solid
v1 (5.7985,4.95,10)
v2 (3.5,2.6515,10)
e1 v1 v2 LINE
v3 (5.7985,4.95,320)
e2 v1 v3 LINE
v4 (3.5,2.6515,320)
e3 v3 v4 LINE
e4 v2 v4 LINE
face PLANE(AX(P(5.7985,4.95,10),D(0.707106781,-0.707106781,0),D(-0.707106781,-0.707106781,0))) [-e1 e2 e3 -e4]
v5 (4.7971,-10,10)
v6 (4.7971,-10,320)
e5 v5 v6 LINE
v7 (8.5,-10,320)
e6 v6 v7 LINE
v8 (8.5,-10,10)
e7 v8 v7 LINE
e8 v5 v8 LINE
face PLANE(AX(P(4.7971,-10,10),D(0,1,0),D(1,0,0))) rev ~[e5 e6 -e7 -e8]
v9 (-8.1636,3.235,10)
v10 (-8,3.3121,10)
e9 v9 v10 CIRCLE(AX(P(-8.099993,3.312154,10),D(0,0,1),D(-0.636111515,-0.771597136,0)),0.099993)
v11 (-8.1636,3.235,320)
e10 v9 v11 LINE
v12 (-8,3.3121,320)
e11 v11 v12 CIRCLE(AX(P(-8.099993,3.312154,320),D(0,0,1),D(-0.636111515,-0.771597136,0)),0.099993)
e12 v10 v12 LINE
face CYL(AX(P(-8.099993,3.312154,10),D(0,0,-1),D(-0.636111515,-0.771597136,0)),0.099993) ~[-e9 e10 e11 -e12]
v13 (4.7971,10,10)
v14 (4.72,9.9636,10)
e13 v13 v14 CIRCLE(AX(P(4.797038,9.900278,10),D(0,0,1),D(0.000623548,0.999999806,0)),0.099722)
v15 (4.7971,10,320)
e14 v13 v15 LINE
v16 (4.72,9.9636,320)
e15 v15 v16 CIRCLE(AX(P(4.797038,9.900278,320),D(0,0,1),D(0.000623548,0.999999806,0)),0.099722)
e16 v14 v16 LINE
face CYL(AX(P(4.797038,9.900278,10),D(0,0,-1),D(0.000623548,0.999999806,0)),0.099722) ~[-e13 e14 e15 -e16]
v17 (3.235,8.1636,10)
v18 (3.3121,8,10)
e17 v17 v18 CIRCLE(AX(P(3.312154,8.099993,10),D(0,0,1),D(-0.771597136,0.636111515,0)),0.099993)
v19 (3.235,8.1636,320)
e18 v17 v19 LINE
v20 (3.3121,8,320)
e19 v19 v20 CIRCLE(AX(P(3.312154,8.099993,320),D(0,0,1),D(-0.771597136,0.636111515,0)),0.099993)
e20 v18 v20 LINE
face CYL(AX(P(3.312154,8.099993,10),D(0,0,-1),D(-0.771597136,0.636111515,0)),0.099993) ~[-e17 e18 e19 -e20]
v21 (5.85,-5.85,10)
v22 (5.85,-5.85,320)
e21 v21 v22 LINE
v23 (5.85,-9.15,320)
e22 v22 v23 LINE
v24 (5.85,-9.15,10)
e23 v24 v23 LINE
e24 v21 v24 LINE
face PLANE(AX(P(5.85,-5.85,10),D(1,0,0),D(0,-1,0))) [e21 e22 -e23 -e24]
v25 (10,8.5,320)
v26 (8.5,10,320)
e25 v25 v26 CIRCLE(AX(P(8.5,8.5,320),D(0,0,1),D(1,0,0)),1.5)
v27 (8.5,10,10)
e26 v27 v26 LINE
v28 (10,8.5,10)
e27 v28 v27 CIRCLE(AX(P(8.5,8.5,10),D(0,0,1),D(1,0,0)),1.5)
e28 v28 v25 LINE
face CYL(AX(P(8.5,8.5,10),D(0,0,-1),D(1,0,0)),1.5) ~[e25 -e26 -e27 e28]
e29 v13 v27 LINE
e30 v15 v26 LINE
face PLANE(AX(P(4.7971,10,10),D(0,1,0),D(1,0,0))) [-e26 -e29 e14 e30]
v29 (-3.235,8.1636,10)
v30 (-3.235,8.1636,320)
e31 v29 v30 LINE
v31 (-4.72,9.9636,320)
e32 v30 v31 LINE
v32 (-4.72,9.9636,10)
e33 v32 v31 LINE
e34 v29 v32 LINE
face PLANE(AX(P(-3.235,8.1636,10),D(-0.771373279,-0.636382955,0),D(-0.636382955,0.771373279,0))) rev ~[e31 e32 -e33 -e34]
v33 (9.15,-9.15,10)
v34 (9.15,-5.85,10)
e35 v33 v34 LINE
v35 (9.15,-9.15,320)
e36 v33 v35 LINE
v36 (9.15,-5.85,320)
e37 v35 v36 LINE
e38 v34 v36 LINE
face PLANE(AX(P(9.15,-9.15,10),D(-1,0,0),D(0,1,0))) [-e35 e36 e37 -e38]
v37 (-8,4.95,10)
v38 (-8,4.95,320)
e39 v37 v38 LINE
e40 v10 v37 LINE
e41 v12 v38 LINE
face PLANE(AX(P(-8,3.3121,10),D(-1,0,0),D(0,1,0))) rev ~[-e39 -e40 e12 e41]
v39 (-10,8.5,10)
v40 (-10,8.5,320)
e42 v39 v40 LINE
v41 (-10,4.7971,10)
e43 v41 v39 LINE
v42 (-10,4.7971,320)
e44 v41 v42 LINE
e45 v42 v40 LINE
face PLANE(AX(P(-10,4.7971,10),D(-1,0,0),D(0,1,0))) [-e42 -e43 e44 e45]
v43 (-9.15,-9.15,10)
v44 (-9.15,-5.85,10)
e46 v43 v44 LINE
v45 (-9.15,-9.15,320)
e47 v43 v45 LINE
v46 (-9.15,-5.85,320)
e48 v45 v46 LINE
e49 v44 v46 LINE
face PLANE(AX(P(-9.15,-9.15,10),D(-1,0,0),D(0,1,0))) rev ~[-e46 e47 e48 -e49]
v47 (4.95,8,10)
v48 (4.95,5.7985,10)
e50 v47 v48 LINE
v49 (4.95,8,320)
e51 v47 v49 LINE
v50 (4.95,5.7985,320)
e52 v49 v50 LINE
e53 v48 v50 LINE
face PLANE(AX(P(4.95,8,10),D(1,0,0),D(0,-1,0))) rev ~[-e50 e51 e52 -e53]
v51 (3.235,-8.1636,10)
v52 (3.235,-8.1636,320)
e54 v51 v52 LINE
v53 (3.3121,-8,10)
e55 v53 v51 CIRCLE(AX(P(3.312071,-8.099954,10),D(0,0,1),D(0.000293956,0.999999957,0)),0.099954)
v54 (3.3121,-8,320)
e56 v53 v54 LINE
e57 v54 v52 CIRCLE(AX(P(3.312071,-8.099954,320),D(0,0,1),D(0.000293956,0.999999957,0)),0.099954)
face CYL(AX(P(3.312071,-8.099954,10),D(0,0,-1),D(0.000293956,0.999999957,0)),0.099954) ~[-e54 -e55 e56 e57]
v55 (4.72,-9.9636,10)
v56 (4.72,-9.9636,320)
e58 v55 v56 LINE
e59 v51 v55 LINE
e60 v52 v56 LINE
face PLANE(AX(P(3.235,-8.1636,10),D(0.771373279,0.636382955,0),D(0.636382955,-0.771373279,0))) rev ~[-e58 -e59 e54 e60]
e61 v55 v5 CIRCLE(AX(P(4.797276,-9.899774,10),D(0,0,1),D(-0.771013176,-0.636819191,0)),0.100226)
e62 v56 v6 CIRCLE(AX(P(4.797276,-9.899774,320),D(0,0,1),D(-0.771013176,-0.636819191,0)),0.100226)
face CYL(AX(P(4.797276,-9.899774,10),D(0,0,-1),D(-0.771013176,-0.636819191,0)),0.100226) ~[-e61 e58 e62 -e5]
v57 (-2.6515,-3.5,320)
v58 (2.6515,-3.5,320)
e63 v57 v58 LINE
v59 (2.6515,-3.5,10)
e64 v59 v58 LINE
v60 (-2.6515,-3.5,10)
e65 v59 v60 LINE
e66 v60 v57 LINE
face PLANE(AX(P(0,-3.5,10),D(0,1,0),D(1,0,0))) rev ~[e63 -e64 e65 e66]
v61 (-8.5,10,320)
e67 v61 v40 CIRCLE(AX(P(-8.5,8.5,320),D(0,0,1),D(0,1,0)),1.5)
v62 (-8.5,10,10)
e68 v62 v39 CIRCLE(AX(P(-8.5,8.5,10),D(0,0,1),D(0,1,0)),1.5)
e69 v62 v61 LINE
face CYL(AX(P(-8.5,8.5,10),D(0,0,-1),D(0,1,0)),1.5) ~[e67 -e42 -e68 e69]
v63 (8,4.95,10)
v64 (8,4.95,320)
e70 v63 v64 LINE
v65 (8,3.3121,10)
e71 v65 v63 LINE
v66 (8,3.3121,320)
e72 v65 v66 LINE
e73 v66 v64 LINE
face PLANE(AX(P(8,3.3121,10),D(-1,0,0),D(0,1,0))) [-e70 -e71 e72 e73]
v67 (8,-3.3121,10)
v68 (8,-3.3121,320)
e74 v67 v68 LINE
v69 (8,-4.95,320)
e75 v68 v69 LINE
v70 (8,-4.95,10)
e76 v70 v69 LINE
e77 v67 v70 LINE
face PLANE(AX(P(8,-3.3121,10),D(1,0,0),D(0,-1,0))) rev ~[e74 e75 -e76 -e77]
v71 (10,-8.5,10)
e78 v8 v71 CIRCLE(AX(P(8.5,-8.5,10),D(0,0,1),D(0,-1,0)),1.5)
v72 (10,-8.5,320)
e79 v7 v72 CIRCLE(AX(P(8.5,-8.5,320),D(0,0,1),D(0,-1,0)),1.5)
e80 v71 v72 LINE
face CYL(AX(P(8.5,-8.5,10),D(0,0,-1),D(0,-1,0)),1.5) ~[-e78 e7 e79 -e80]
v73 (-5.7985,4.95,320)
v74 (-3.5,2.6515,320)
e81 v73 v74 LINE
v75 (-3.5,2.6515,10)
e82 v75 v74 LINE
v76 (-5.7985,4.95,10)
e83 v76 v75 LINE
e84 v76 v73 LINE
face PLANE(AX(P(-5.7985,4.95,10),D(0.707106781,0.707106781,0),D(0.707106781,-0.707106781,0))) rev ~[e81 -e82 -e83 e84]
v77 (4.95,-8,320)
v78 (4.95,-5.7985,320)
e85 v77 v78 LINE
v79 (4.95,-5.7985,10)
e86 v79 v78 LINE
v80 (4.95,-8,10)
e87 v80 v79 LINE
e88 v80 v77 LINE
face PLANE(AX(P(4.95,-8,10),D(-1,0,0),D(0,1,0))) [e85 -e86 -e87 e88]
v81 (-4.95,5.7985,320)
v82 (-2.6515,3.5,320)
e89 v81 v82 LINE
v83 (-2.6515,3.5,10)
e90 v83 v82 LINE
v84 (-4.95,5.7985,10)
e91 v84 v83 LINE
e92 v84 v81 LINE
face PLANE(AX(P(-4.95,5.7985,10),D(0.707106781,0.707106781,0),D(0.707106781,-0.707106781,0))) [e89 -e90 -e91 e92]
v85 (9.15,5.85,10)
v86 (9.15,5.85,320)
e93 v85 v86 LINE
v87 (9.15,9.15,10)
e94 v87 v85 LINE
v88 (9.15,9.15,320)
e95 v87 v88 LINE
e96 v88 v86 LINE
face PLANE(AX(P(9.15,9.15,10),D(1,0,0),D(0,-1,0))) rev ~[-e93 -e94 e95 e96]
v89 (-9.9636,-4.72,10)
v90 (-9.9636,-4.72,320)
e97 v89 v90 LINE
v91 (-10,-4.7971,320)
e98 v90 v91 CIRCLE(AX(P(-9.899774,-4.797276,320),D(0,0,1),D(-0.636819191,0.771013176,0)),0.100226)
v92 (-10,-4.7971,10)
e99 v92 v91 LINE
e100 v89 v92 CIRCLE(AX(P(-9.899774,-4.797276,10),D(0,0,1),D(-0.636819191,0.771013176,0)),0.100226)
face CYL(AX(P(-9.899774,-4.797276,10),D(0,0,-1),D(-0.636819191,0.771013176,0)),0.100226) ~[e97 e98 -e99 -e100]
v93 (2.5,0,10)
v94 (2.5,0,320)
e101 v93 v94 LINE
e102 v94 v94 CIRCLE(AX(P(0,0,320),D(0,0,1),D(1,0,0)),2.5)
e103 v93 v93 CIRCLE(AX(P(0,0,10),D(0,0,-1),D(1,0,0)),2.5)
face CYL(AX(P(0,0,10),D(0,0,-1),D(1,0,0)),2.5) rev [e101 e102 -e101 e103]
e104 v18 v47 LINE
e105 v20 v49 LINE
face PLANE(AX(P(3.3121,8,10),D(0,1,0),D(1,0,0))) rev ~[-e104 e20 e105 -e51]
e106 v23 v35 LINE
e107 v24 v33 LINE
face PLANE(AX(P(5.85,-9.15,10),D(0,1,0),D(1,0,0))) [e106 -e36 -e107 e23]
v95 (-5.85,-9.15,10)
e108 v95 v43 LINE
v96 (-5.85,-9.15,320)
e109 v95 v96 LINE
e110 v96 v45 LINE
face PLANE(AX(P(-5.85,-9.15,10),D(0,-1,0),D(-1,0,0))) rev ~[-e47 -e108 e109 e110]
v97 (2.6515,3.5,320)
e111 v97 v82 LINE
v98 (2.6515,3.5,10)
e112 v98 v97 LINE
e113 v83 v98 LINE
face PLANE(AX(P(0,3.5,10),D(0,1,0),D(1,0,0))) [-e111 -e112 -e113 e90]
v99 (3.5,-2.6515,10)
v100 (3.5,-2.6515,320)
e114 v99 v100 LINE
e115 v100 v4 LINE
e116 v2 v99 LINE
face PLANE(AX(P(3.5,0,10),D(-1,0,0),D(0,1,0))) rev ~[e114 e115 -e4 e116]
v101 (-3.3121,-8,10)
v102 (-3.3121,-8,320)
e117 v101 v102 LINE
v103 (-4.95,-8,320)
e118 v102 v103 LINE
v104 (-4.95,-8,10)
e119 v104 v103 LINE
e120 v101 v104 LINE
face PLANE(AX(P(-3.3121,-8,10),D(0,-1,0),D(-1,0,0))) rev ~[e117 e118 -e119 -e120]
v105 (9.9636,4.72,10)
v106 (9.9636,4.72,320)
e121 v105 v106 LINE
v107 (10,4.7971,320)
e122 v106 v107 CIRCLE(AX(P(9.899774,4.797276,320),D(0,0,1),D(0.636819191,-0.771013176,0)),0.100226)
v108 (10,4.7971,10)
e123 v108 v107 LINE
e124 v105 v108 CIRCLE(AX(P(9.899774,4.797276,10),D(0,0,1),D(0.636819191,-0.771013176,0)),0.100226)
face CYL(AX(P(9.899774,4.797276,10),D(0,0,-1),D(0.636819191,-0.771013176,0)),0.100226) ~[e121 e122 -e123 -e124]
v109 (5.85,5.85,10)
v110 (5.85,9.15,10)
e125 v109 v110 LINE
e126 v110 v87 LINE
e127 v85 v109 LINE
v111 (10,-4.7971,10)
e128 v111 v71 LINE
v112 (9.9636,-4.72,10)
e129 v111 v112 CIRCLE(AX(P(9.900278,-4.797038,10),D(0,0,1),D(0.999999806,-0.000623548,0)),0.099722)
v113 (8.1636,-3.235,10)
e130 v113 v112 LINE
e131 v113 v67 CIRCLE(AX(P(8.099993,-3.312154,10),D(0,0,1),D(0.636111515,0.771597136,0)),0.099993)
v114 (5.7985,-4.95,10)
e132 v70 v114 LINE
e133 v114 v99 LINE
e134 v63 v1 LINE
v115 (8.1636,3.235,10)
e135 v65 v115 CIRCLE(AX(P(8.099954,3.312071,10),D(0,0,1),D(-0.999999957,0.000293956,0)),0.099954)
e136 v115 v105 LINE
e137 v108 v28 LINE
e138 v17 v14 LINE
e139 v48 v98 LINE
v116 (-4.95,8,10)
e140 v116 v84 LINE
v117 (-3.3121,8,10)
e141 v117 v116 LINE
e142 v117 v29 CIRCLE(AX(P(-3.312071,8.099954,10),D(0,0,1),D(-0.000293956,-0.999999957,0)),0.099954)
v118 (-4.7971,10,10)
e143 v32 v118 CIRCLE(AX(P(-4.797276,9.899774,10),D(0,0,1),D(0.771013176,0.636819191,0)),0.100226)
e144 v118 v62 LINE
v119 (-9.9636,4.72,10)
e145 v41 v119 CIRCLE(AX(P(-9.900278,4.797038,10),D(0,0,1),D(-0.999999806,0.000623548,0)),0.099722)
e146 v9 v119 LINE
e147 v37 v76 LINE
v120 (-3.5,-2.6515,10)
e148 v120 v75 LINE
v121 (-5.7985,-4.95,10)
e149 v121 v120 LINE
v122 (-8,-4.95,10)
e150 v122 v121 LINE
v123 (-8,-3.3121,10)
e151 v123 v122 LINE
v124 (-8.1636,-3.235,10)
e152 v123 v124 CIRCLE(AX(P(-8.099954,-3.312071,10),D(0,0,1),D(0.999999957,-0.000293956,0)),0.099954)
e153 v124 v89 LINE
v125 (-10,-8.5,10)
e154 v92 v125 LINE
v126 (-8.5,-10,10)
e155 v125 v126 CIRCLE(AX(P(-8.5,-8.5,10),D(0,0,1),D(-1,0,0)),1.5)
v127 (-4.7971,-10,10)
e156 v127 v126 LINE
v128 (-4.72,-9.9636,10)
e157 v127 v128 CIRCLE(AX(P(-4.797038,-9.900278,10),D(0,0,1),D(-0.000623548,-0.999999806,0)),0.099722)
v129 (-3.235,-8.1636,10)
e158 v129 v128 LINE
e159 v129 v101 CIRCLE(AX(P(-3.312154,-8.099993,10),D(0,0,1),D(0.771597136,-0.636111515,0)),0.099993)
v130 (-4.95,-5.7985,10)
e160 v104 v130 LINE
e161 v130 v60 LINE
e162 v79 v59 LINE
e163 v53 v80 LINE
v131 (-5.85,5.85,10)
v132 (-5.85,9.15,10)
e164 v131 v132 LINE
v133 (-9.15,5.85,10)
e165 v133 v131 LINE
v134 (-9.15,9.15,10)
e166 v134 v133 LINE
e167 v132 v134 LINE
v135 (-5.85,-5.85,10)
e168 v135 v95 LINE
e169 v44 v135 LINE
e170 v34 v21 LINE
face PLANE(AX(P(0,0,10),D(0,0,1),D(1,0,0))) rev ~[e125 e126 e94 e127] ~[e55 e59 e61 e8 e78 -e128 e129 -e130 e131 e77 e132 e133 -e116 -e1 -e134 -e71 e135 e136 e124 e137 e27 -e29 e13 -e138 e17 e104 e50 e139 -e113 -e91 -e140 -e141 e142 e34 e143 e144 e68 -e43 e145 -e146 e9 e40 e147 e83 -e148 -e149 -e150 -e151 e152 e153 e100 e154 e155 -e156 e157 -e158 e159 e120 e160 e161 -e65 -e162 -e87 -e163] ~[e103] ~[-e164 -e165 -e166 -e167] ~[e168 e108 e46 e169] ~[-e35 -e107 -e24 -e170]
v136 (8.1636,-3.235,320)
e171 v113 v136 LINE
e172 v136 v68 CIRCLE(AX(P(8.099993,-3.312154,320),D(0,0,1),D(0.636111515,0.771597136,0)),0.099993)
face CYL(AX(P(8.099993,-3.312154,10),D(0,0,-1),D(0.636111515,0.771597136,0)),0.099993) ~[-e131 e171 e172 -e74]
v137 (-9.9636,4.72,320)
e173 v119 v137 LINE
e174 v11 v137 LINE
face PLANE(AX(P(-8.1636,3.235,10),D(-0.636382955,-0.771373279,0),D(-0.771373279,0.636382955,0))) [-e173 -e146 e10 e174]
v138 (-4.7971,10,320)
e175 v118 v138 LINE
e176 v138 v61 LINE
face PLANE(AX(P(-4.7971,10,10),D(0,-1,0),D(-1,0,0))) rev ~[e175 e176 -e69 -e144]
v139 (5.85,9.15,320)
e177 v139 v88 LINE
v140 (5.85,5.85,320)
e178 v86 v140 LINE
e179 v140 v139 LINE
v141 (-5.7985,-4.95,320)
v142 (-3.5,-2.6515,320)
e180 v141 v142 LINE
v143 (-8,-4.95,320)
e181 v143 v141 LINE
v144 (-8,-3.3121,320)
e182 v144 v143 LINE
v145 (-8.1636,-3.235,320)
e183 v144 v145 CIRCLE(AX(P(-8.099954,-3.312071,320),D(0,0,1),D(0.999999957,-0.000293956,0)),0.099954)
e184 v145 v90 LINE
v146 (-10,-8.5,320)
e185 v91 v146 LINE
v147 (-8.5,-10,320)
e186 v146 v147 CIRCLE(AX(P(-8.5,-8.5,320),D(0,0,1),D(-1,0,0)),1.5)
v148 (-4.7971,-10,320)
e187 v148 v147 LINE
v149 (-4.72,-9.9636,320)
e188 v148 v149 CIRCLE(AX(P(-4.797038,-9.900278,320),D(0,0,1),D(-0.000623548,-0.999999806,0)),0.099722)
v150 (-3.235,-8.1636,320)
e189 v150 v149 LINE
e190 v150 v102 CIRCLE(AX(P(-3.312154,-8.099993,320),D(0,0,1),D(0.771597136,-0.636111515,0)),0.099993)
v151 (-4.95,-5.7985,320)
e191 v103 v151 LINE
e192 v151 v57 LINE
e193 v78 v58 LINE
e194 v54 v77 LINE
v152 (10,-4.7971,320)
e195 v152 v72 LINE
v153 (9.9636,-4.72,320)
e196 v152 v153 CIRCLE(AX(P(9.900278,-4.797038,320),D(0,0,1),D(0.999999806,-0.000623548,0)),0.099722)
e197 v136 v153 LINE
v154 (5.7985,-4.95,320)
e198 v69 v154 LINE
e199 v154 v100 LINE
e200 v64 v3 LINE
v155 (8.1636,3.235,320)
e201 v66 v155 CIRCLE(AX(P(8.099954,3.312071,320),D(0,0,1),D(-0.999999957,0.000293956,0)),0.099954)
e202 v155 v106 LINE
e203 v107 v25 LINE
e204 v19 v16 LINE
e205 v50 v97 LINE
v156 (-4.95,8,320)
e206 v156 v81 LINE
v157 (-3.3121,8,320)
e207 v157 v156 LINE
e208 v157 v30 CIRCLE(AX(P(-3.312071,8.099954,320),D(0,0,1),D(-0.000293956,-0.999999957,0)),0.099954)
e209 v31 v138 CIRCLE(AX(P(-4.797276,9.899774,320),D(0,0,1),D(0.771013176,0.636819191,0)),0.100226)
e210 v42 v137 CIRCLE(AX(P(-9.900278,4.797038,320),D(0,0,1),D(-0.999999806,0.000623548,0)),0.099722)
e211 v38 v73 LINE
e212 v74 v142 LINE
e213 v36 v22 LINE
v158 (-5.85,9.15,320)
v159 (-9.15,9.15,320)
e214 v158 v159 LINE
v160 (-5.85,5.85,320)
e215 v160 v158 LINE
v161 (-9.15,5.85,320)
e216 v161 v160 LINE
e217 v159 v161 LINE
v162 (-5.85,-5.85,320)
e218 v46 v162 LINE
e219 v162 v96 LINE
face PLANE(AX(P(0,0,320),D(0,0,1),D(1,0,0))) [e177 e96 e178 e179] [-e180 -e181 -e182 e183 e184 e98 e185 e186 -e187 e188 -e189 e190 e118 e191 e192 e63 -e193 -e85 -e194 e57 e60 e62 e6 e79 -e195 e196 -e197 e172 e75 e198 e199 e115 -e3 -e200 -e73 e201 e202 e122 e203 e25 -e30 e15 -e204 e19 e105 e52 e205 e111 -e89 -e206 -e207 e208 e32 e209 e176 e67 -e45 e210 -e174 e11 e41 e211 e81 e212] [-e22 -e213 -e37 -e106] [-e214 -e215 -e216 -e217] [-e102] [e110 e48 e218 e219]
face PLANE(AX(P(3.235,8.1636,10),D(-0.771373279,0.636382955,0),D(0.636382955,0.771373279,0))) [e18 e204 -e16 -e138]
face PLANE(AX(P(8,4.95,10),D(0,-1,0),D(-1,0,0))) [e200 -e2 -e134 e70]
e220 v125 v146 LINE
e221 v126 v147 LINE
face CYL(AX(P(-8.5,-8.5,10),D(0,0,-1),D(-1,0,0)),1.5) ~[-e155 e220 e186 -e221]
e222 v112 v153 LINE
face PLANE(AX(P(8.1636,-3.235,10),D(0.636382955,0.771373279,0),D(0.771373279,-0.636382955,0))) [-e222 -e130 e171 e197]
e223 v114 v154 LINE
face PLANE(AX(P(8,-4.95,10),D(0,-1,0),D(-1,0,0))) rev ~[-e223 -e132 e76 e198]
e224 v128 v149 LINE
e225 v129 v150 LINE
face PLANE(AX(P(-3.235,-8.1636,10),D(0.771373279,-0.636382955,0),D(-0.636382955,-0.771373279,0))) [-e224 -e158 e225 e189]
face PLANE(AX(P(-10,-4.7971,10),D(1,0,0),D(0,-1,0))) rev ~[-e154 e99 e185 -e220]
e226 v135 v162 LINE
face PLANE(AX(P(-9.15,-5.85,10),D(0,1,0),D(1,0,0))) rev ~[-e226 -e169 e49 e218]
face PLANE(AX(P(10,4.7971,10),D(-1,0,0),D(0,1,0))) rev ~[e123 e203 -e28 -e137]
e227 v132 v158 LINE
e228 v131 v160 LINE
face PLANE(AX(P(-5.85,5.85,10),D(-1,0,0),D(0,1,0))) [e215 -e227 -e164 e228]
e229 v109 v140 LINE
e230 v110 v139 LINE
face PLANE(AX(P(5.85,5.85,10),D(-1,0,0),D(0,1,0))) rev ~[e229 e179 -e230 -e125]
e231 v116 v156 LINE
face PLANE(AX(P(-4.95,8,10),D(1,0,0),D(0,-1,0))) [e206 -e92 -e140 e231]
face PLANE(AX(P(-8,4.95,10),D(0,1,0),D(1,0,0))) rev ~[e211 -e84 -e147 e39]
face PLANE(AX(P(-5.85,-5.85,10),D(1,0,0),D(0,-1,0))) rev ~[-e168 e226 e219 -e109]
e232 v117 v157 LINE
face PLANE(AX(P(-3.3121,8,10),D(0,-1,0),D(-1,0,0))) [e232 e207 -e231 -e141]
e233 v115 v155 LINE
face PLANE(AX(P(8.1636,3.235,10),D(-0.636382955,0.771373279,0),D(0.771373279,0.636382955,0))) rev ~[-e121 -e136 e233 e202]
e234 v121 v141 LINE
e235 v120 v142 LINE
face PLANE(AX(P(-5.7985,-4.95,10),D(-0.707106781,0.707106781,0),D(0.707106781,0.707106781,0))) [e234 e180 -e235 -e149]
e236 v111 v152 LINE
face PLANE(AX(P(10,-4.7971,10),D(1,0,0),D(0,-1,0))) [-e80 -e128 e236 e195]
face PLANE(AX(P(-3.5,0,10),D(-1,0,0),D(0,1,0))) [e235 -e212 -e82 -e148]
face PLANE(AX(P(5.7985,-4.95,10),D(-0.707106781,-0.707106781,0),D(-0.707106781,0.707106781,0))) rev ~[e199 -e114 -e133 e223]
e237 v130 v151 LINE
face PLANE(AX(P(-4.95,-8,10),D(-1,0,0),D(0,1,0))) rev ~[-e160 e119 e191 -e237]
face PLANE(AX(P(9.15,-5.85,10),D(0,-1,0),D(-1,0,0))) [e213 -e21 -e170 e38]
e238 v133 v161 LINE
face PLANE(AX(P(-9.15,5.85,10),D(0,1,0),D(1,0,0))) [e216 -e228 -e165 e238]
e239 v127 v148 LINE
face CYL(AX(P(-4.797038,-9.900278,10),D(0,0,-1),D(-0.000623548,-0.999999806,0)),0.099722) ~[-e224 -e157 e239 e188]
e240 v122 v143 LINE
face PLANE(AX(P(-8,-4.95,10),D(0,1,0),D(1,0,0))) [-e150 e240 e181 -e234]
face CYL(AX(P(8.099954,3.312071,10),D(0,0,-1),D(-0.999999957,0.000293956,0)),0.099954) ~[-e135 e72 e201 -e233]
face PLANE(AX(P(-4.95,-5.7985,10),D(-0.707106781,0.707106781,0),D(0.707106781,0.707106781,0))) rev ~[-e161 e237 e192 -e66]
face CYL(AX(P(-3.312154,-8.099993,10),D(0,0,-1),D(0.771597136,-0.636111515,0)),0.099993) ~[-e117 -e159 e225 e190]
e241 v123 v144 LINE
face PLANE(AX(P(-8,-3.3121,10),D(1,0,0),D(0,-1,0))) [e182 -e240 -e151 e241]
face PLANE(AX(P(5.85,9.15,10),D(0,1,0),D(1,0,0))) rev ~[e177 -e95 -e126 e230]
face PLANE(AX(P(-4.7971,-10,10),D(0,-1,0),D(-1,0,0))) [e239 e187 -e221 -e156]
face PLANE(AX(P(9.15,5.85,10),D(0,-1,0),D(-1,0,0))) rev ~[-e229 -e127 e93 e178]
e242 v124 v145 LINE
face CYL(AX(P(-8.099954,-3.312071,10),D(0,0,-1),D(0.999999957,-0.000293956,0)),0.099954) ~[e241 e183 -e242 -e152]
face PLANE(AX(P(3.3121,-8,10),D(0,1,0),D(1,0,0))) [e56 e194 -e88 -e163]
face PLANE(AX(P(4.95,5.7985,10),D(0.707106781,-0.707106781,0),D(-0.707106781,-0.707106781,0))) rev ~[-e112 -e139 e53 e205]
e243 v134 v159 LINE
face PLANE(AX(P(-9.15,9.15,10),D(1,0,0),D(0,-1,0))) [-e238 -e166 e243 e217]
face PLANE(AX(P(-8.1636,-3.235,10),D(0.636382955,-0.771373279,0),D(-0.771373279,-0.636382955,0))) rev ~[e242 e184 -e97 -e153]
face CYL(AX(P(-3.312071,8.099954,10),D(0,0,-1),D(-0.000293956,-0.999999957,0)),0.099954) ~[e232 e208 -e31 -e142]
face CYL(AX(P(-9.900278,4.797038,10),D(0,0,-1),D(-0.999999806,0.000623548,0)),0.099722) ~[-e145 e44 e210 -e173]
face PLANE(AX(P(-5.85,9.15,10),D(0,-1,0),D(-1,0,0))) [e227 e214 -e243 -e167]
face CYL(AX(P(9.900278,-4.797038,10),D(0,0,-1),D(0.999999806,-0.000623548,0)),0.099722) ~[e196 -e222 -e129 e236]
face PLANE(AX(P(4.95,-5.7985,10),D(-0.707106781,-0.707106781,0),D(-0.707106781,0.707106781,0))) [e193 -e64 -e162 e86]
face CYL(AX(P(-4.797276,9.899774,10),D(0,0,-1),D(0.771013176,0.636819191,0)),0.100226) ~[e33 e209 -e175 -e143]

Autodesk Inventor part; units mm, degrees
ref_plane "Начальная плоскость" through (0, 0, 10) normal (0, 0, 1) x (1, 0, 0)
ref_plane "Конечная плоскость" through (0, 0, 320) normal (0, 0, 1) x (1, 0, 0)
sketch "Эскиз" plane through (0, 0, 0) normal (0, 0, 1) x (1, 0, 0)
  line L0 (-14.4349, 0) -> (14.4349, 0) projected
  line L1 (0, -14) -> (0, 14) projected
  line L2 (0, 0) -> (7.5, 7.5) construction
  circle A0 centre (7.5, 7.5) radius 1.65 construction
  line L3 (5.85, 9.15) -> (9.15, 9.15)
  line L4 (9.15, 9.15) -> (9.15, 5.85)
  line L5 (9.15, 5.85) -> (5.85, 5.85)
  line L6 (5.85, 5.85) -> (5.85, 9.15)
  line L7 (3.235, 8.1636) -> (4.72, 9.9636)
  line L8 (4.7971, 10) -> (8.5, 10)
  line L9 (3.3121, 8) -> (4.95, 8)
  line L10 (4.95, 8) -> (4.95, 5.7985)
  line L11 (4.95, 5.7985) -> (2.6515, 3.5)
  line L12 (0, 3.5) -> (2.6515, 3.5)
  circle A1 centre (0, 0) radius 2.5
  line L13 (8.1636, 3.235) -> (9.9636, 4.72)
  line L14 (10, 4.7971) -> (10, 8.5)
  line L15 (8, 3.3121) -> (8, 4.95)
  line L16 (8, 4.95) -> (5.7985, 4.95)
  line L17 (5.7985, 4.95) -> (3.5, 2.6515)
  line L18 (3.5, 0) -> (3.5, 2.6515)
  arc A2 (10, 8.5) -> (8.5, 10) centre (8.5, 8.5) ccw
  line L19 (0, 0) -> (-7.5, 7.5) construction
  circle A3 centre (-7.5, 7.5) radius 1.65 construction
  line L20 (-5.85, 9.15) -> (-9.15, 9.15)
  line L21 (-9.15, 9.15) -> (-9.15, 5.85)
  line L22 (-9.15, 5.85) -> (-5.85, 5.85)
  line L23 (-5.85, 5.85) -> (-5.85, 9.15)
  line L24 (-3.235, 8.1636) -> (-4.72, 9.9636)
  line L25 (-4.7971, 10) -> (-8.5, 10)
  line L26 (-3.3121, 8) -> (-4.95, 8)
  line L27 (-4.95, 8) -> (-4.95, 5.7985)
  line L28 (-4.95, 5.7985) -> (-2.6515, 3.5)
  line L29 (0, 3.5) -> (-2.6515, 3.5)
  line L30 (-3.5, 0) -> (-3.5, 2.6515)
  line L31 (-5.7985, 4.95) -> (-3.5, 2.6515)
  line L32 (-8, 4.95) -> (-5.7985, 4.95)
  line L33 (-8, 3.3121) -> (-8, 4.95)
  line L34 (-8.1636, 3.235) -> (-9.9636, 4.72)
  line L35 (-10, 4.7971) -> (-10, 8.5)
  arc A4 (-8.5, 10) -> (-10, 8.5) centre (-8.5, 8.5) ccw
  line L36 (0, 14) -> (0, -14)
  line L37 (0, 0) -> (7.5, -7.5) construction
  circle A5 centre (7.5, -7.5) radius 1.65 construction
  line L38 (5.85, -9.15) -> (9.15, -9.15)
  line L39 (9.15, -9.15) -> (9.15, -5.85)
  line L40 (9.15, -5.85) -> (5.85, -5.85)
  line L41 (5.85, -5.85) -> (5.85, -9.15)
  line L42 (3.235, -8.1636) -> (4.72, -9.9636)
  line L43 (4.7971, -10) -> (8.5, -10)
  line L44 (3.3121, -8) -> (4.95, -8)
  line L45 (4.95, -8) -> (4.95, -5.7985)
  line L46 (4.95, -5.7985) -> (2.6515, -3.5)
  line L47 (0, -3.5) -> (2.6515, -3.5)
  line L48 (3.5, 0) -> (3.5, -2.6515)
  line L49 (5.7985, -4.95) -> (3.5, -2.6515)
  line L50 (8, -4.95) -> (5.7985, -4.95)
  line L51 (8, -3.3121) -> (8, -4.95)
  line L52 (8.1636, -3.235) -> (9.9636, -4.72)
  line L53 (10, -4.7971) -> (10, -8.5)
  arc A6 (8.5, -10) -> (10, -8.5) centre (8.5, -8.5) ccw
  line L54 (0, 0) -> (-7.5, -7.5) construction
  line L55 (-4.95, -8) -> (-4.95, -5.7985)
  line L56 (-3.3121, -8) -> (-4.95, -8)
  line L57 (-5.7985, -4.95) -> (-3.5, -2.6515)
  line L58 (-4.95, -5.7985) -> (-2.6515, -3.5)
  line L59 (-3.5, 0) -> (-3.5, -2.6515)
  line L60 (0, -3.5) -> (-2.6515, -3.5)
  circle A7 centre (-7.5, -7.5) radius 1.65 construction
  line L61 (-5.85, -5.85) -> (-5.85, -9.15)
  line L62 (-5.85, -9.15) -> (-9.15, -9.15)
  line L63 (-9.15, -9.15) -> (-9.15, -5.85)
  line L64 (-9.15, -5.85) -> (-5.85, -5.85)
  line L65 (-3.235, -8.1636) -> (-4.72, -9.9636)
  line L66 (-8, -4.95) -> (-5.7985, -4.95)
  line L67 (-8, -3.3121) -> (-8, -4.95)
  line L68 (-8.1636, -3.235) -> (-9.9636, -4.72)
  line L69 (-4.7971, -10) -> (-8.5, -10)
  line L70 (-10, -4.7971) -> (-10, -8.5)
  arc A8 (-10, -8.5) -> (-8.5, -10) centre (-8.5, -8.5) ccw
  arc A9 (3.235, 8.1636) -> (3.3121, 8) centre (3.3121, 8.1) ccw
  arc A10 (4.7971, 10) -> (4.72, 9.9636) centre (4.7971, 9.9) ccw
  arc A11 (8, 3.3121) -> (8.1636, 3.235) centre (8.1, 3.3121) ccw
  arc A12 (9.9636, 4.72) -> (10, 4.7971) centre (9.9, 4.7971) ccw
  arc A13 (-3.3121, 8) -> (-3.235, 8.1636) centre (-3.3121, 8.1) ccw
  arc A14 (-4.72, 9.9636) -> (-4.7971, 10) centre (-4.7971, 9.9) ccw
  arc A15 (-8.1636, 3.235) -> (-8, 3.3121) centre (-8.1, 3.3121) ccw
  arc A16 (-10, 4.7971) -> (-9.9636, 4.72) centre (-9.9, 4.7971) ccw
  arc A17 (-8, -3.3121) -> (-8.1636, -3.235) centre (-8.1, -3.3121) ccw
  arc A18 (-9.9636, -4.72) -> (-10, -4.7971) centre (-9.9, -4.7971) ccw
  arc A19 (-3.235, -8.1636) -> (-3.3121, -8) centre (-3.3121, -8.1) ccw
  arc A20 (-4.7971, -10) -> (-4.72, -9.9636) centre (-4.7971, -9.9) ccw
  arc A21 (4.72, -9.9636) -> (4.7971, -10) centre (4.7971, -9.9) ccw
  arc A22 (3.3121, -8) -> (3.235, -8.1636) centre (3.3121, -8.1) ccw
  arc A23 (8.1636, -3.235) -> (8, -3.3121) centre (8.1, -3.3121) ccw
  arc A24 (10, -4.7971) -> (9.9636, -4.72) centre (9.9, -4.7971) ccw
  point P0 (3.1, 8)
  point P1 (4.75, 10)
  point P2 (7.5, 9.15)
  point P3 (8, 3.1)
  point P4 (10, 4.75)
  point P5 (7.5, 5.85)
  point P6 (9.15, 7.5)
  point P7 (-3.1, 8)
  point P8 (-4.75, 10)
  point P9 (-7.5, 9.15)
  point P10 (-8, 3.1)
  point P11 (-10, 4.75)
  point P12 (-7.5, 5.85)
  point P13 (-9.15, 7.5)
  point P14 (3.1, -8)
  point P15 (4.75, -10)
  point P16 (7.5, -9.15)
  point P17 (8, -3.1)
  point P18 (10, -4.75)
  point P19 (7.5, -5.85)
  point P20 (9.15, -7.5)
  point P21 (-3.1, -8)
  point P22 (-7.5, -5.85)
  point P23 (-7.5, -9.15)
  point P24 (-9.15, -7.5)
  point P25 (-4.75, -10)
  point P26 (-8, -3.1)
  point P27 (-10, -4.75)
  dimension "d0" = 45
  dimension "d1" = 3.3
  dimension "d2" = 1.5
  dimension "d3" = 1.2
  dimension "d4" = 5
  dimension "d5" = 6.5
  dimension "d6" = 15
  dimension "d7" = 20
  dimension "d8" = 9.9
  dimension "d9" = 9.5
  dimension "d10" = 6.2
  dimension "d11" = 2
  dimension "d18" = 0.1
  dimension "d19" = 0.1
extrude "Тело" add sketch "Эскиз" along normal up to surface (310 mm away) from surface at 10 contours A1 L1 L12 L11 L10 L9 A9 L7 A10 L8 A2 L14 A12 L13 A11 L15 L16 L17 L18 L0 | L0 L48 L49 L50 L51 A23 L52 A24 L53 A6 L43 A21 L42 A22 L44 L45 L46 L47 L1 A1 | A1 L0 L30 L31 L32 L33 A15 L34 A16 L35 A4 L25 A14 L24 A13 L26 L27 L28 L29 L1 | L1 L60 L58 L55 L56 A19 L65 A20 L69 A8 L70 A18 L68 A17 L67 L66 L57 L59 L0 A1
sketch "Эскиз2" plane through (0, 0, 0) normal (0, 0, 1) x (1, 0, 0)
  line L0 (0, 0) -> (10, 0)
ref_plane "РабПлоскость3" through (0, 0, 0) normal (0, -1, 0) x (1, 0, 0)
sketch "Эскиз3" plane through (0, 0, 0) normal (0, -1, 0) x (1, 0, 0)
  line L0 (-2, 10) -> (12, 10)
  line L1 (-2, 320) -> (12, 320)
  dimension "d25" = 310
ref_plane "РабПлоскость4" through (300, -58.5, 10) normal (0, 0, -1) x (-1, 0, 0)
split "Разделение1" plane through (300, -58.5, 10) removes the side toward (0, 0, -1)
ref_plane "РабПлоскость5" through (255, -51.5, 320) normal (0, 0, 1) x (1, 0, 0)
split "Разделение2" plane through (255, -51.5, 320) removes the side toward (0, 0, 1)
properties part number "короткая палка" material "Алюминий 6061"
